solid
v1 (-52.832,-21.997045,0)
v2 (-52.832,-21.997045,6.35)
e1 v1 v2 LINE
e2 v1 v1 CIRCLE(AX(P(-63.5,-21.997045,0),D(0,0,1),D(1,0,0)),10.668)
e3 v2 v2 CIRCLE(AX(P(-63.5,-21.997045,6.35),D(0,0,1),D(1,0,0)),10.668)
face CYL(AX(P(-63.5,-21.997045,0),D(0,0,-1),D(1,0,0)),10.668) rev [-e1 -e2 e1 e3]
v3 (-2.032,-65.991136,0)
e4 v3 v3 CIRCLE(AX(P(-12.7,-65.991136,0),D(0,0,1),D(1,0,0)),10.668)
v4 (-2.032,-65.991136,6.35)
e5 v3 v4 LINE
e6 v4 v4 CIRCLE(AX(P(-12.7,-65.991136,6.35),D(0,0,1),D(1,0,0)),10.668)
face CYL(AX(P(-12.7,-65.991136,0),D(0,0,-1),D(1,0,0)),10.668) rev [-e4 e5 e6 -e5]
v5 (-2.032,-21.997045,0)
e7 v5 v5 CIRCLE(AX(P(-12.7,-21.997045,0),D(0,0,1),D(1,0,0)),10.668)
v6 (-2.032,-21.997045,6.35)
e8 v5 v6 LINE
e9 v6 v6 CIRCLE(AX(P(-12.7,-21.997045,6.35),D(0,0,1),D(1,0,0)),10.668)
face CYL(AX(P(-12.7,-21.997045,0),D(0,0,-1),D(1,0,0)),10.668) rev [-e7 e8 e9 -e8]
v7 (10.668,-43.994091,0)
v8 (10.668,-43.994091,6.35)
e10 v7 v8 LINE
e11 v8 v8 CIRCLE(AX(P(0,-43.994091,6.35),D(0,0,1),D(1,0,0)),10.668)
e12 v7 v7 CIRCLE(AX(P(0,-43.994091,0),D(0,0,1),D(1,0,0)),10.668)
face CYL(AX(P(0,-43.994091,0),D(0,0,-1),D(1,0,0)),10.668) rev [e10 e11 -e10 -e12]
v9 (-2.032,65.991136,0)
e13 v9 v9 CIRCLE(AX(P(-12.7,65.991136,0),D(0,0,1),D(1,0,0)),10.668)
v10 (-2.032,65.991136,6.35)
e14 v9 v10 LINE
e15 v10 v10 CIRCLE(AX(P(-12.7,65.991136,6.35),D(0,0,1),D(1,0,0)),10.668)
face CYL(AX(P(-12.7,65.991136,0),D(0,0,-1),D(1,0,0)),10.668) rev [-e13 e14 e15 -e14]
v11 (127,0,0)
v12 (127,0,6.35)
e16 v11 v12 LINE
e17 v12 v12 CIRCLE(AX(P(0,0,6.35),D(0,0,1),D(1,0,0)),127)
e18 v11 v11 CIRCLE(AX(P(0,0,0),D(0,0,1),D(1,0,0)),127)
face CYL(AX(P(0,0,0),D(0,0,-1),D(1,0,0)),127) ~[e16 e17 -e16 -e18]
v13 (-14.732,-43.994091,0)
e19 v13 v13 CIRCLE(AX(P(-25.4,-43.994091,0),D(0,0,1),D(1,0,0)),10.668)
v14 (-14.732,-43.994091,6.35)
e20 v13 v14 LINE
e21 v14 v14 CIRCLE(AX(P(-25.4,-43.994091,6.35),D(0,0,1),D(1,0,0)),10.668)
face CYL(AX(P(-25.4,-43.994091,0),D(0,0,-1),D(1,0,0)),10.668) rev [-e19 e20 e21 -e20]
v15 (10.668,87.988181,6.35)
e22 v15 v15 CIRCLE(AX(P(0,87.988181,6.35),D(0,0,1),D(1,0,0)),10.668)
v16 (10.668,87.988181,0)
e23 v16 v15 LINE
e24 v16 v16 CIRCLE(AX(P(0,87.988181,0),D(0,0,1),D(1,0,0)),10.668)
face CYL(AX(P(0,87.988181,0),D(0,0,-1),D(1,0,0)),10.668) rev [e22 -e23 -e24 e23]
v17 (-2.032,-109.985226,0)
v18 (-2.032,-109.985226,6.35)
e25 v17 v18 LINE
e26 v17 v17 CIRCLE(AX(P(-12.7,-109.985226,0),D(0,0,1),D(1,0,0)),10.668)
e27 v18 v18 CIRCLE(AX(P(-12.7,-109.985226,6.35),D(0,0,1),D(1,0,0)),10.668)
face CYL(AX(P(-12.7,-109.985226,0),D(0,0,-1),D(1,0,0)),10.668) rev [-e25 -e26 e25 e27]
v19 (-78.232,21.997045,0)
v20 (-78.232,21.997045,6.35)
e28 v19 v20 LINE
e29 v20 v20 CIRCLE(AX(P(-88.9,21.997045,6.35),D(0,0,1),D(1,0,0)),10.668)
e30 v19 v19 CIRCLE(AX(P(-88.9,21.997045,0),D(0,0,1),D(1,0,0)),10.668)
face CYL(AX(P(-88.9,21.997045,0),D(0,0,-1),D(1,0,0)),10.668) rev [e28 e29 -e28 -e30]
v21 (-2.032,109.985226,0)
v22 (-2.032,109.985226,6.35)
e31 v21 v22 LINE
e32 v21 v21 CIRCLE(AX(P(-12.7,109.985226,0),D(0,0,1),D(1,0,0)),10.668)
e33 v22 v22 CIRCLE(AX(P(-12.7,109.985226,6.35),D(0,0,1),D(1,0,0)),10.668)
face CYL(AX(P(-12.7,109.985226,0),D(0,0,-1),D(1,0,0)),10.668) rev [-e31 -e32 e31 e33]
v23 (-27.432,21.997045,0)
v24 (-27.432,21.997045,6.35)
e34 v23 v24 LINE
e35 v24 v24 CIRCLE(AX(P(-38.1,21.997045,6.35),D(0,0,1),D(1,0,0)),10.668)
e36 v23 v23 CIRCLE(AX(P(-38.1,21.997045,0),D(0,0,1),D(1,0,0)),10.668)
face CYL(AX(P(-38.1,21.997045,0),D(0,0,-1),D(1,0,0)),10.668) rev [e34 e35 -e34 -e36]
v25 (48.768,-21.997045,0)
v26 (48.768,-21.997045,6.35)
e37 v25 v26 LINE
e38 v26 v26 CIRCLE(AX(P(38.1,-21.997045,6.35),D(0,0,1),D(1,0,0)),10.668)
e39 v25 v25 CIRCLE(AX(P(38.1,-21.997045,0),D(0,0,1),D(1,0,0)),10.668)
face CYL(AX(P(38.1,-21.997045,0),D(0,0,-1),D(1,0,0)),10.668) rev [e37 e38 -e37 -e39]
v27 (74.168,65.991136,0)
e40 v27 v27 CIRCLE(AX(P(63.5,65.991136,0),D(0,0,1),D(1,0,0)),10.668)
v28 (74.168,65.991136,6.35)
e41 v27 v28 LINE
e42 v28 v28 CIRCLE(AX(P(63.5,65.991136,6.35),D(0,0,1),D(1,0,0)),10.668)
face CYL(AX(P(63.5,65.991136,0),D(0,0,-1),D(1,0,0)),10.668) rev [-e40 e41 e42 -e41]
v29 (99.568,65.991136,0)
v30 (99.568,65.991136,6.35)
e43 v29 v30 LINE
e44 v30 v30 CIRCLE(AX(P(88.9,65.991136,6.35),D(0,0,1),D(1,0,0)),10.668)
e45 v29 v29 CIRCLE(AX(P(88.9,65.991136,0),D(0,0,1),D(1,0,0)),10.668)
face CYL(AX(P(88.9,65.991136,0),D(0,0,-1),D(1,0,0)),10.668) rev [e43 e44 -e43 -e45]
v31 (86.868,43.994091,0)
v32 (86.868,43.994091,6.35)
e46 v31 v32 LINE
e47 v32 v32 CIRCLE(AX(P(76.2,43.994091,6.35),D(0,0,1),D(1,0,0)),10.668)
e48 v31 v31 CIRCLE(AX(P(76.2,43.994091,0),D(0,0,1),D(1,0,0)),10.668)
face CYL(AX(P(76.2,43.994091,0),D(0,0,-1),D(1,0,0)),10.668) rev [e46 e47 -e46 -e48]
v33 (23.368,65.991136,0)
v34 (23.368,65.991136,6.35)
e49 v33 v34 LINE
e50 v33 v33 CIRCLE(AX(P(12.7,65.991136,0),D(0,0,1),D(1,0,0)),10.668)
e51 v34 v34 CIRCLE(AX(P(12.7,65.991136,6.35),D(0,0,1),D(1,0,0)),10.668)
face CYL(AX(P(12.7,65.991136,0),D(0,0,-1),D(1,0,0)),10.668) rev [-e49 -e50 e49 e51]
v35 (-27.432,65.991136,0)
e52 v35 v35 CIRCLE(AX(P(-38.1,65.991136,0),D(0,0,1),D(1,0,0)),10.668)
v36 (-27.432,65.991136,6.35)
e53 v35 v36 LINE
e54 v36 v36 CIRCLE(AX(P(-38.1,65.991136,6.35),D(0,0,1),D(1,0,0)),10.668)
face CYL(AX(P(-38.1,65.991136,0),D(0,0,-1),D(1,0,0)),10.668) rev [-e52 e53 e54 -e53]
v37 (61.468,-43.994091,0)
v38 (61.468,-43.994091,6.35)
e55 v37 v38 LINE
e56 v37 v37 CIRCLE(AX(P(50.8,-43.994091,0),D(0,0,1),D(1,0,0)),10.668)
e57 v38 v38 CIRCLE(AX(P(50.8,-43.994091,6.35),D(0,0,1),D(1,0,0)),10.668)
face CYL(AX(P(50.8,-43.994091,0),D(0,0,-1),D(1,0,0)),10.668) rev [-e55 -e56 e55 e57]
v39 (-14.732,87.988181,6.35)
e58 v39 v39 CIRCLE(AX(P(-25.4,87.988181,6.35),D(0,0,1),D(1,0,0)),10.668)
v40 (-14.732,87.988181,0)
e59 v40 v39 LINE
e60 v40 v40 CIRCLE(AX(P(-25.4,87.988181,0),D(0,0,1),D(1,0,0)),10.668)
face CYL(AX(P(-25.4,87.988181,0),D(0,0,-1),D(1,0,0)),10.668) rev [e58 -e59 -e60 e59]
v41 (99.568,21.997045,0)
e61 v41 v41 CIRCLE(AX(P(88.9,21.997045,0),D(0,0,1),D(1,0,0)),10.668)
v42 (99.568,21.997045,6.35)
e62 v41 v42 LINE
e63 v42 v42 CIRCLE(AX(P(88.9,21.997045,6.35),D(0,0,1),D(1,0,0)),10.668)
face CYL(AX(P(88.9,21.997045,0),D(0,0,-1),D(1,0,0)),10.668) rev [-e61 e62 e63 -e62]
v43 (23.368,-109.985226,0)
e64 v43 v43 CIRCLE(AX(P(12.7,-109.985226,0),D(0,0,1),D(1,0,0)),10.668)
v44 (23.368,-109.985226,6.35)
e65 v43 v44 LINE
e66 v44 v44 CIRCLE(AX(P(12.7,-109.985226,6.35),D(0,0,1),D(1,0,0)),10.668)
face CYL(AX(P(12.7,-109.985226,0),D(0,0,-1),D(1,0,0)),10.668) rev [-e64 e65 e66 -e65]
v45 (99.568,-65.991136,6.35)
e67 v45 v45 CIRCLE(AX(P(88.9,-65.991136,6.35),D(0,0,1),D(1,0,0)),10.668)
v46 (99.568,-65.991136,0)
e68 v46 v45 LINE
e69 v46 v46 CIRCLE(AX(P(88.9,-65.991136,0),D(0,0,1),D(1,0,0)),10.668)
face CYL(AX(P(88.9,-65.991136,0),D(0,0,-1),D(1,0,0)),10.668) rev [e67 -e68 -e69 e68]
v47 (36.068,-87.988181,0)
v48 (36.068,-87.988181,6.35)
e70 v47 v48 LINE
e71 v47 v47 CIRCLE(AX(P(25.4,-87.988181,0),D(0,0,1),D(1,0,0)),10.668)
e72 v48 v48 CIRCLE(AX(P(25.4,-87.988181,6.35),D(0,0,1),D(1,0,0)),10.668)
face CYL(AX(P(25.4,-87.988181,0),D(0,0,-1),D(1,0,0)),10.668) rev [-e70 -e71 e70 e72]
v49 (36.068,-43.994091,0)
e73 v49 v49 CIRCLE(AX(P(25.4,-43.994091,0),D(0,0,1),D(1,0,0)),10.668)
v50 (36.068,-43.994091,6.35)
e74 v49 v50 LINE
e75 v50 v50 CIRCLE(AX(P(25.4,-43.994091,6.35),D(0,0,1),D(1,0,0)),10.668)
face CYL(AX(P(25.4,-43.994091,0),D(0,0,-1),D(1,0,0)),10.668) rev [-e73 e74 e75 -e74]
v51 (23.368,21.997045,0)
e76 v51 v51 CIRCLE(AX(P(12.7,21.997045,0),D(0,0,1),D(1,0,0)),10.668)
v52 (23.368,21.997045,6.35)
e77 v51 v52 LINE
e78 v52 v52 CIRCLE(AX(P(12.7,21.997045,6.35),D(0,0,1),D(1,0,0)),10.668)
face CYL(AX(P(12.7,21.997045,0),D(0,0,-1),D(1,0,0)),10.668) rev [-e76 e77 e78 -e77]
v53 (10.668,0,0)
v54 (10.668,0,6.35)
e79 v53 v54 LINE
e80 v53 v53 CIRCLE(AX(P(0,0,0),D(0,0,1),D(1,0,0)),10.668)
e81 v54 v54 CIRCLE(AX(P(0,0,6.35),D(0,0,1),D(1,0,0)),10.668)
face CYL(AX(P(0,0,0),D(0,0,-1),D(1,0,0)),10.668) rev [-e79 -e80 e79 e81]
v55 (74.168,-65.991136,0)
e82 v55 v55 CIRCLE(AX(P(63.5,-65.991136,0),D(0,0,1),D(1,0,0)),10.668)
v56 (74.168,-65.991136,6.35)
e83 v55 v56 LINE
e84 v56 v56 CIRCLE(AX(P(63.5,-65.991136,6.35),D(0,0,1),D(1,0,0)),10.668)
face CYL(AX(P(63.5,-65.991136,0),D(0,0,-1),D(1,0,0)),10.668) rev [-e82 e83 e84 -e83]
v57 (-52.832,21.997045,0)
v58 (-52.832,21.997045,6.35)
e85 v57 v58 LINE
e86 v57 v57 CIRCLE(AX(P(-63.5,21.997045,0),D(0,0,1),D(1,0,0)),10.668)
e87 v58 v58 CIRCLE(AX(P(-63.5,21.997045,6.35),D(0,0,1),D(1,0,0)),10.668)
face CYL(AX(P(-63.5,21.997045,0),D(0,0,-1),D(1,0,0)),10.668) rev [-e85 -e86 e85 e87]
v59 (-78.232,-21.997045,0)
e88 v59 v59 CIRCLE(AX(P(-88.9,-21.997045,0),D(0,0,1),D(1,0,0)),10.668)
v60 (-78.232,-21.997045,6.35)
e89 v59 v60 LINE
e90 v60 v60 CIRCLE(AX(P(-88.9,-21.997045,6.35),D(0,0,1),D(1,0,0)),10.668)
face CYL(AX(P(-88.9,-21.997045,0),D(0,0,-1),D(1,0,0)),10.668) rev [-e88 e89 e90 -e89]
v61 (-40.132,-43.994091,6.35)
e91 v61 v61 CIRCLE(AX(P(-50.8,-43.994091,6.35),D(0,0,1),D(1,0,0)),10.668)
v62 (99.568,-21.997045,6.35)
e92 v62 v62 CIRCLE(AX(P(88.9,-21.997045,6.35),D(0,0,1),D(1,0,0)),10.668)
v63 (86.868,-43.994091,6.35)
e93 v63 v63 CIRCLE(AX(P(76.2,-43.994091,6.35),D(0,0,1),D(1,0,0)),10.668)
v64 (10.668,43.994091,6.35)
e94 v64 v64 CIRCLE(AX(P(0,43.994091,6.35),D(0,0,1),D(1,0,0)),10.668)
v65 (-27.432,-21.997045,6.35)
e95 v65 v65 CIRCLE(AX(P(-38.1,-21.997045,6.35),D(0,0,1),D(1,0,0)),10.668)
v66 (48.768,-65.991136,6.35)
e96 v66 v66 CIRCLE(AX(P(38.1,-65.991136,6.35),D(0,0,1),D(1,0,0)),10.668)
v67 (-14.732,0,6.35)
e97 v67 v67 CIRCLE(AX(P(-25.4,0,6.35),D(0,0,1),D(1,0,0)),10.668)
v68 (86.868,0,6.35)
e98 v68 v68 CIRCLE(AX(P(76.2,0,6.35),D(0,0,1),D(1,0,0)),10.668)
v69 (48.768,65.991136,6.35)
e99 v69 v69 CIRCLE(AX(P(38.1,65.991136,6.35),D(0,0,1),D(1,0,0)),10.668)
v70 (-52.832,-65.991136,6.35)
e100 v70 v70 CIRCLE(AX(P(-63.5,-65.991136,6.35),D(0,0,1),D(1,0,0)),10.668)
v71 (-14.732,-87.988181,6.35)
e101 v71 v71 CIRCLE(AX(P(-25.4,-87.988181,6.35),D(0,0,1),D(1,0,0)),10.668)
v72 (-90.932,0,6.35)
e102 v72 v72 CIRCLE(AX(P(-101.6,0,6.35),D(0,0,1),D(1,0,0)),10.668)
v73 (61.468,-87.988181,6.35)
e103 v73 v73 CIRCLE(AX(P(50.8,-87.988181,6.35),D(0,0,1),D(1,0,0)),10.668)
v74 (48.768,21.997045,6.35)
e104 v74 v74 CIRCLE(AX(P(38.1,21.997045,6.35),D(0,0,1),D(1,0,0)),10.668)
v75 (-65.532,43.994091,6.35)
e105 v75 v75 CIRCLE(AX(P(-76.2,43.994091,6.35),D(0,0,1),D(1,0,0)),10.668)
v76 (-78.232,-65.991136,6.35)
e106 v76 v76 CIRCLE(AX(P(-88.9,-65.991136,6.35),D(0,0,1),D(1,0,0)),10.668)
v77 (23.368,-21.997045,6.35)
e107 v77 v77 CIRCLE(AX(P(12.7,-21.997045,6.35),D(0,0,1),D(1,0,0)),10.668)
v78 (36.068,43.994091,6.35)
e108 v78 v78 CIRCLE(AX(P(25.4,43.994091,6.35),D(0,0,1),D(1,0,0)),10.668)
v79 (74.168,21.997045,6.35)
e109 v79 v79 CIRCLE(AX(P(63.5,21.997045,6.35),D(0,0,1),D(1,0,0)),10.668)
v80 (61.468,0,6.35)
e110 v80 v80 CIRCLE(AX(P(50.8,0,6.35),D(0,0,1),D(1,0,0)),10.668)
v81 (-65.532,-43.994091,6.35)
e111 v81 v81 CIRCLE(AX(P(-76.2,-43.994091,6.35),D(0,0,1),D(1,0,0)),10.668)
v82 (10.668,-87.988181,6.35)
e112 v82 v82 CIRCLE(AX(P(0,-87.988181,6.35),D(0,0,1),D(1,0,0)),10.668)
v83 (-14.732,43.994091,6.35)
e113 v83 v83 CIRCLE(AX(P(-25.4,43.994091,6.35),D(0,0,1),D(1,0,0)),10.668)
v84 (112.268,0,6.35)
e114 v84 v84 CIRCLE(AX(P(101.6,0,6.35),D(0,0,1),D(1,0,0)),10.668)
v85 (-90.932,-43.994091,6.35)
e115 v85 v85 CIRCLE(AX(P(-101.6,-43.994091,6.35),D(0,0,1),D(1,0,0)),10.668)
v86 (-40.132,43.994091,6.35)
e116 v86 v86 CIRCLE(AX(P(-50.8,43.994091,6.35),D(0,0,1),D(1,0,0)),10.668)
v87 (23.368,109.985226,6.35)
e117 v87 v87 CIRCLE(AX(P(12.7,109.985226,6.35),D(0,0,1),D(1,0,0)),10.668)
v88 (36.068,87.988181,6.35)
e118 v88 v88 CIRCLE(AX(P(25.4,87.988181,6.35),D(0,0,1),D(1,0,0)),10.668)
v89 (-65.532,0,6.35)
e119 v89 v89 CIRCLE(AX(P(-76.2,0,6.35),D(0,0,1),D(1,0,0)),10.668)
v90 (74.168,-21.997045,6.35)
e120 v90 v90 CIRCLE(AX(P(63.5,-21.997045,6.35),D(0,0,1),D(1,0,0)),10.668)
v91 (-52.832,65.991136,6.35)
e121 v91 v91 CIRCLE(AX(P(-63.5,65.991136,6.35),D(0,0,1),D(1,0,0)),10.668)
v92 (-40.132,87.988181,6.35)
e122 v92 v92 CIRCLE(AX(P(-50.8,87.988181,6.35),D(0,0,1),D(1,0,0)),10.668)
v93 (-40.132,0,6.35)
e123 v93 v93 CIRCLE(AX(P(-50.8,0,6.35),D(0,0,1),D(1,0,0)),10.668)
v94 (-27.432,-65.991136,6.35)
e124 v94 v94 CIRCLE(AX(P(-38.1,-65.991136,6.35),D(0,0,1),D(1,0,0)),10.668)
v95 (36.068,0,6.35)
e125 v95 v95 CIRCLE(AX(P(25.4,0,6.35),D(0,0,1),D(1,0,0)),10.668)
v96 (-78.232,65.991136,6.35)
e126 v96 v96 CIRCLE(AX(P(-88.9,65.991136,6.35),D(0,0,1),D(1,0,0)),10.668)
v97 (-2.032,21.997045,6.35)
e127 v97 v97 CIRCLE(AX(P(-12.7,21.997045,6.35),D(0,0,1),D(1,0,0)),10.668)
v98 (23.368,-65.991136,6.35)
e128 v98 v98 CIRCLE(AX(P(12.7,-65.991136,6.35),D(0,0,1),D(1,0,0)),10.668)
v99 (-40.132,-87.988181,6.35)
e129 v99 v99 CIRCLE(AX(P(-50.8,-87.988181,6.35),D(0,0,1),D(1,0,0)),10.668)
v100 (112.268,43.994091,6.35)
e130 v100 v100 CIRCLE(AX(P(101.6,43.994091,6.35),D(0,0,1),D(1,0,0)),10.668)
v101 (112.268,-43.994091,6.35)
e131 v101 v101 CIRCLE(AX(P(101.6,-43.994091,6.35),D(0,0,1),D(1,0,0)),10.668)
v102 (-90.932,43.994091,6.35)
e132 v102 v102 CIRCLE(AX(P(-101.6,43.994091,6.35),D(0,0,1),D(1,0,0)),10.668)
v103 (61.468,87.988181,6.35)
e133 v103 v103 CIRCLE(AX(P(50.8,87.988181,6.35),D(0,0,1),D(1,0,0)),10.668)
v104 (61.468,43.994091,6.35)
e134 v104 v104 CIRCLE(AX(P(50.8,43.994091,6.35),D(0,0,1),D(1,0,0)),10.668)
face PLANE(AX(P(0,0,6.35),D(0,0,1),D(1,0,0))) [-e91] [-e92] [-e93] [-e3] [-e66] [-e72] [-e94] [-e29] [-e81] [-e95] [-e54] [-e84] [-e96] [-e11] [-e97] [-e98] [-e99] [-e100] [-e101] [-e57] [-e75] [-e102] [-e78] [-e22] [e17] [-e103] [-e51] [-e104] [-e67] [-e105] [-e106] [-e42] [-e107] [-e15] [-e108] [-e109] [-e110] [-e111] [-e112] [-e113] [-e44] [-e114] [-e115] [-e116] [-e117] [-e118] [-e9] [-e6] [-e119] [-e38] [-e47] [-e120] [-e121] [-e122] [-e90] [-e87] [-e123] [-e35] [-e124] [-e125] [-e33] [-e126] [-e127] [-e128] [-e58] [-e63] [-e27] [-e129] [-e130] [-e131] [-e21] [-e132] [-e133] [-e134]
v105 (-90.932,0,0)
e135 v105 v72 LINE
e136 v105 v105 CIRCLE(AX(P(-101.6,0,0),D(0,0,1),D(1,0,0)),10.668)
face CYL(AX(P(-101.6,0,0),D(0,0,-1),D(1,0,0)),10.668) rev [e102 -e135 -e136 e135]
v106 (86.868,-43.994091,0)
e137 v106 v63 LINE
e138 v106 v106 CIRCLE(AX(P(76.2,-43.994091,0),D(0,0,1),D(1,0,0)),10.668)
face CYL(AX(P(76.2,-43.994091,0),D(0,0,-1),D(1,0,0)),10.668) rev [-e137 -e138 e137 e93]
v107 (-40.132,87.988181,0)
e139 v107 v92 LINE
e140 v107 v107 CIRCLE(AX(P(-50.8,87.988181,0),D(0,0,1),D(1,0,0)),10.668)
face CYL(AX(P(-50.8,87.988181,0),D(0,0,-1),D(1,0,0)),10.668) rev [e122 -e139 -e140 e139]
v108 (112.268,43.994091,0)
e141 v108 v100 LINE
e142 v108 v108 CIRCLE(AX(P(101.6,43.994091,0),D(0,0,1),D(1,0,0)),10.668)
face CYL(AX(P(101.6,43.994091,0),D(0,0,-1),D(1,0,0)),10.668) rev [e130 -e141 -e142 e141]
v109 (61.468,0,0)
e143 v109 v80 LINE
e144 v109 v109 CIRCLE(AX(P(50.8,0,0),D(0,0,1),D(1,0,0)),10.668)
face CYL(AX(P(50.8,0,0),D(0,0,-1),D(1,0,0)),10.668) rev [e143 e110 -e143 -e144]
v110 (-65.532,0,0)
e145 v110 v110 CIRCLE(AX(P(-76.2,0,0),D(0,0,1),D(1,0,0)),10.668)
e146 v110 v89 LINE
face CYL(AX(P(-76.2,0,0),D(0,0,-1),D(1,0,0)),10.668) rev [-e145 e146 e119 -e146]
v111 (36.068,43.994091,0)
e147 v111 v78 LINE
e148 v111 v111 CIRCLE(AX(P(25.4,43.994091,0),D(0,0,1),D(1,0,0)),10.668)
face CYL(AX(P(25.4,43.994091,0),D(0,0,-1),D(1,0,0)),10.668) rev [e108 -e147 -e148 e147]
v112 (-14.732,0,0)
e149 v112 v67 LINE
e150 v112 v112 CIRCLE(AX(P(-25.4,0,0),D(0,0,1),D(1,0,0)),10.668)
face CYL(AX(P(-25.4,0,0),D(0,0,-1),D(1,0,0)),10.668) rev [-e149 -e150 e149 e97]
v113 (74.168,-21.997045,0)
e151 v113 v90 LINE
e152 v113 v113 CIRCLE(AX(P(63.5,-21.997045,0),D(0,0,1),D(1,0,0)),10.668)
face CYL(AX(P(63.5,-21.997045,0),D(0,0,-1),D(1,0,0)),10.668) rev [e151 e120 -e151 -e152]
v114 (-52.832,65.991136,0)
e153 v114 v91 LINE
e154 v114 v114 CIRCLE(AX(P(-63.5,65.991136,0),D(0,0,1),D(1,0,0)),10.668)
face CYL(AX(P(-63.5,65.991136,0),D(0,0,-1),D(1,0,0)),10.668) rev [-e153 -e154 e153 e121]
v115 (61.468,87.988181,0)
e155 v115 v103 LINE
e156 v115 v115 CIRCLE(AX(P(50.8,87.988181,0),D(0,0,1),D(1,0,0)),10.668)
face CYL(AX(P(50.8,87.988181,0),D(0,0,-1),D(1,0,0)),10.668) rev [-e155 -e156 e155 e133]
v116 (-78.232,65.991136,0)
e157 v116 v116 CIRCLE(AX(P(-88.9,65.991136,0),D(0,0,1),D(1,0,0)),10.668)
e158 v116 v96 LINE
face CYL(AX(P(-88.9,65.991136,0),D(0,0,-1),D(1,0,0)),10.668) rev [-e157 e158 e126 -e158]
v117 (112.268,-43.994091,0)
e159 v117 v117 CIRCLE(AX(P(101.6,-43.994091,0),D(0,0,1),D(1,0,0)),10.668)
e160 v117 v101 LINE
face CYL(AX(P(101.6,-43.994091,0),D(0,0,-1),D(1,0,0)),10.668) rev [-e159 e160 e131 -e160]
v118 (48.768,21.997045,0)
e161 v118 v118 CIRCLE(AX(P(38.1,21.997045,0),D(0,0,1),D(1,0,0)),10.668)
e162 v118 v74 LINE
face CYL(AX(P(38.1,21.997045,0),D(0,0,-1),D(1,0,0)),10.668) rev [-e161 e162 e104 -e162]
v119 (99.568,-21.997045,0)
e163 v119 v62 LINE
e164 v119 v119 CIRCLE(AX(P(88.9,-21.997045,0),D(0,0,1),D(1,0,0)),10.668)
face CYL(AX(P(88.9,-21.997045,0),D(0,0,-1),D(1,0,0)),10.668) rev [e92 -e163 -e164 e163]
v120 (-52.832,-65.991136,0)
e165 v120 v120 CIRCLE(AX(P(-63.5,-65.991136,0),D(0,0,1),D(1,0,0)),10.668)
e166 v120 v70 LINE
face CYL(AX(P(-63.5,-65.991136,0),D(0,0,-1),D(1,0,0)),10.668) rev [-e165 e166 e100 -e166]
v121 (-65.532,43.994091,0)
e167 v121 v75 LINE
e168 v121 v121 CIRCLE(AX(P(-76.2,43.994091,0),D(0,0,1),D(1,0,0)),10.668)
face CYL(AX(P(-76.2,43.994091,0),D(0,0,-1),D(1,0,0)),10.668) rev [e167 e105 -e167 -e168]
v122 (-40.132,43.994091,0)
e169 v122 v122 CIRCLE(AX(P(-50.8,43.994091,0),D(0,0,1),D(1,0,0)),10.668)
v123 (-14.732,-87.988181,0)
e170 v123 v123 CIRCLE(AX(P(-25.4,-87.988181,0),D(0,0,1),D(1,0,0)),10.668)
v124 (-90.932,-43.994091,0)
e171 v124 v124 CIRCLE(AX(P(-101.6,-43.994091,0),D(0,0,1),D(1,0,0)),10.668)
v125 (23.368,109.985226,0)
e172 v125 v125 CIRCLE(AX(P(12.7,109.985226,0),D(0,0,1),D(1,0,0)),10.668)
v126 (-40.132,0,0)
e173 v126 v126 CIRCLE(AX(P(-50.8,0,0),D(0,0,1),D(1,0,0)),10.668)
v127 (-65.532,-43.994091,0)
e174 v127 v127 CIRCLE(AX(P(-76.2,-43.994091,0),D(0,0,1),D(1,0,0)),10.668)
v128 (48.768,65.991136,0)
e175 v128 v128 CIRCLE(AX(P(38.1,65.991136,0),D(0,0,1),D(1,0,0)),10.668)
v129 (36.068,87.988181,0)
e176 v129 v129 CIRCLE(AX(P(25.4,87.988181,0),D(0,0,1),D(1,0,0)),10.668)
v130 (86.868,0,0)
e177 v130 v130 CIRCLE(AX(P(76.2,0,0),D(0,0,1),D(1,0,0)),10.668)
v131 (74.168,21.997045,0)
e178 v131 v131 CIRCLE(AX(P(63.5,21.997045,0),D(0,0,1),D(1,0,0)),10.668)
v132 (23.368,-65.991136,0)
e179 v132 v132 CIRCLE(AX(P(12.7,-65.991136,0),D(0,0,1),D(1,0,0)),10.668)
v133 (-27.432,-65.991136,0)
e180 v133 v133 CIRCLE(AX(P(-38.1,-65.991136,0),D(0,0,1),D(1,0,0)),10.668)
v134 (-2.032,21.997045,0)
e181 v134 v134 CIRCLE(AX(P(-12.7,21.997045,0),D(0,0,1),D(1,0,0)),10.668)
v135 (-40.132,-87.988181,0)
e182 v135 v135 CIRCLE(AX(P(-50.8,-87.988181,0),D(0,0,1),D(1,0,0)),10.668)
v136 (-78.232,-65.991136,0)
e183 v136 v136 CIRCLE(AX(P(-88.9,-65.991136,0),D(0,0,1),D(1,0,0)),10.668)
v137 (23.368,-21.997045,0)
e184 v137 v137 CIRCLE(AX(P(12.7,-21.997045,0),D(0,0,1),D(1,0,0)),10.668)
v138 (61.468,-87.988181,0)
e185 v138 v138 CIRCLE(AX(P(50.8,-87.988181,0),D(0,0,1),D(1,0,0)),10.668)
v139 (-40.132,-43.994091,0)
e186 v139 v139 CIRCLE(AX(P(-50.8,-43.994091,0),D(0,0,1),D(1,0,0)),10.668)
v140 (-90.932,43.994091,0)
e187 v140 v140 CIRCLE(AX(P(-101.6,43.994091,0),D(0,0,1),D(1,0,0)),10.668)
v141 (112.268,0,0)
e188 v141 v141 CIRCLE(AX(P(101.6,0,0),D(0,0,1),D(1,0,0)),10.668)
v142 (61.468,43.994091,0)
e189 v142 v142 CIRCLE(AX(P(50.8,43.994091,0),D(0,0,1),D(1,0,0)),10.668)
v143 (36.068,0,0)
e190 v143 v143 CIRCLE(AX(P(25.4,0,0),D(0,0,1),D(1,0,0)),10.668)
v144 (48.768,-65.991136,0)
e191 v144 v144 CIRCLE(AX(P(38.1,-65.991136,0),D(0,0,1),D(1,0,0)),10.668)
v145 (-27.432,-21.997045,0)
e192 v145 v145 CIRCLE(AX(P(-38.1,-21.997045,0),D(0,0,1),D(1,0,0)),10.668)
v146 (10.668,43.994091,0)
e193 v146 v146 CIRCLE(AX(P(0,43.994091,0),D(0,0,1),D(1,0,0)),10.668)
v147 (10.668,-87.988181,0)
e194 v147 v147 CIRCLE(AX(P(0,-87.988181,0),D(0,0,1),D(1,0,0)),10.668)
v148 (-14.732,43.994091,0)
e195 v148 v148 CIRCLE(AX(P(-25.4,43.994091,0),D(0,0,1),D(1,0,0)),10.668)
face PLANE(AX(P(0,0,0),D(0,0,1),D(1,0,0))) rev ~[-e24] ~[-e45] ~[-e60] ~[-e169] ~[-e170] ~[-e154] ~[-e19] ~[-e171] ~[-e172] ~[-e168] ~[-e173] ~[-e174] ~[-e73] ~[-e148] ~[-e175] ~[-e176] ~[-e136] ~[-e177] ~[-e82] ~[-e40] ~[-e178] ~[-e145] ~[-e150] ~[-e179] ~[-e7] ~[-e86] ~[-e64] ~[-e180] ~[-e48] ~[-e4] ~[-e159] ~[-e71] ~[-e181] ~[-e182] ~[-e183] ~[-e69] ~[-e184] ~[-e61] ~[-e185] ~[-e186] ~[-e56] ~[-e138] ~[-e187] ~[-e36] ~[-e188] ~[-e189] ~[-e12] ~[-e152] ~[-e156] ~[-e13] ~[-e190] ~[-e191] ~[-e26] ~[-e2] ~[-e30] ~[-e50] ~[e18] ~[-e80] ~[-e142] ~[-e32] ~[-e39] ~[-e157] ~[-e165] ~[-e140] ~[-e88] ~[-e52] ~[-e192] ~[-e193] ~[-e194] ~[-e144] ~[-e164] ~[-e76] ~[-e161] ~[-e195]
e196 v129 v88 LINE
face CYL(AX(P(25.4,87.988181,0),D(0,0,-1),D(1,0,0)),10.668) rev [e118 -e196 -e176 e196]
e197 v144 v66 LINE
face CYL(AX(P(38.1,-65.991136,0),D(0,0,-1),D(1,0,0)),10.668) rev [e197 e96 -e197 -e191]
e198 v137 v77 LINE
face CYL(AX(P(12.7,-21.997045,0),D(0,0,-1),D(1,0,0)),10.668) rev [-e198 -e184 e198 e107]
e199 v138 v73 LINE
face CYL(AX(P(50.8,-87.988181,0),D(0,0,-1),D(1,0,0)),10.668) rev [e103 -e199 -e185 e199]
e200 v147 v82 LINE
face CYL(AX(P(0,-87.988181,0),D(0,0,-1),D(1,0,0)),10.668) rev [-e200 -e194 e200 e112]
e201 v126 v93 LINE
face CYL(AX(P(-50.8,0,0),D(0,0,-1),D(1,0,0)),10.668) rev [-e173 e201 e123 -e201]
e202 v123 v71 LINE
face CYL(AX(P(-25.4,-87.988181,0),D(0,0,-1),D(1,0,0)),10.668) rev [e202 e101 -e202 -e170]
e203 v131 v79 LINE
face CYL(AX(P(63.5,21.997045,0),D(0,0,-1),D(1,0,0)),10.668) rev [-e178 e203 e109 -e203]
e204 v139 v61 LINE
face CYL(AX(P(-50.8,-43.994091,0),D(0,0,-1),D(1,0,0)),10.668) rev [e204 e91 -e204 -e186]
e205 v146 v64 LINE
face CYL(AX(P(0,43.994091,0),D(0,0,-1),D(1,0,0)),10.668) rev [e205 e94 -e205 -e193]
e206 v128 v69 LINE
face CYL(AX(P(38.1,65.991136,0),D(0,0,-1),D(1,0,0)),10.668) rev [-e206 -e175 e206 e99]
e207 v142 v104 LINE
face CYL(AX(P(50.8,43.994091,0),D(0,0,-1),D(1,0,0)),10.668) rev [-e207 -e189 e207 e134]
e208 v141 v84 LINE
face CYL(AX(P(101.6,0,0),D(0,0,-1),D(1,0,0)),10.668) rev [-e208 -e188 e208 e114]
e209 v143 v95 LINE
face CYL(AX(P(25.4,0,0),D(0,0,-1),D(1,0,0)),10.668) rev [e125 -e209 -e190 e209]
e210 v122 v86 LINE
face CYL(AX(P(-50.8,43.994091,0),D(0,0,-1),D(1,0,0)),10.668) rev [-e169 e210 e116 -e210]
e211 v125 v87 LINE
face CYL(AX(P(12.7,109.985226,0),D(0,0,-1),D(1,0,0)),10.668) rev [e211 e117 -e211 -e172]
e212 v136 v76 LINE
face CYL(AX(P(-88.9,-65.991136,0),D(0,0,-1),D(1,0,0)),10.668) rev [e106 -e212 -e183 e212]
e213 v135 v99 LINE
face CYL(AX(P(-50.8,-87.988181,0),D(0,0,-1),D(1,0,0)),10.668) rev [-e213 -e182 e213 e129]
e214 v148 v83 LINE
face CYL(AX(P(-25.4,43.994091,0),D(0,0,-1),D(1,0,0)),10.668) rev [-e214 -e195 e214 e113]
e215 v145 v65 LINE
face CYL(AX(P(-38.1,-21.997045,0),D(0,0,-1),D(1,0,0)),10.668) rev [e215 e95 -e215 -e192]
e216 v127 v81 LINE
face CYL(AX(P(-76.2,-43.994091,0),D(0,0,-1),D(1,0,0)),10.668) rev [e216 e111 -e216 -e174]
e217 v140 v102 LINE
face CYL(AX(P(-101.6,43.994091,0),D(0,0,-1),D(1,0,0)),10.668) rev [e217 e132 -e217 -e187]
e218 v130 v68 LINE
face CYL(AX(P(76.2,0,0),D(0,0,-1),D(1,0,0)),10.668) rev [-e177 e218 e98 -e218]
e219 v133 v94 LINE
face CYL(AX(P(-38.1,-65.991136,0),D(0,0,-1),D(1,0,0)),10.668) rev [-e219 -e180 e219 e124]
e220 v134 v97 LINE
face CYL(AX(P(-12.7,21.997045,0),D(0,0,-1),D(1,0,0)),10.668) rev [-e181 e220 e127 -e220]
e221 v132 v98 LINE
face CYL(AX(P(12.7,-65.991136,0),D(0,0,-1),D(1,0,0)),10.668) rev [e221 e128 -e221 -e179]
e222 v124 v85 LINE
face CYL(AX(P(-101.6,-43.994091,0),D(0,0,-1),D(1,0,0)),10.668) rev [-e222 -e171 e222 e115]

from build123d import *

# Parameters (mm, degrees)
F0_R     = 127
F0_R_2   = 10.668
F1_DEPTH = 6.35


with BuildPart() as f1:
    # F0 (on Top) → F1 (new body)
    with BuildSketch(Plane.XY):
        Circle(F0_R)
        with Locations((-88.9, -65.991136)):
            Circle(F0_R_2, mode=Mode.SUBTRACT)
        with Locations((-12.7, -109.985226)):
            Circle(F0_R_2, mode=Mode.SUBTRACT)
        with Locations((-50.8, -87.988181)):
            Circle(F0_R_2, mode=Mode.SUBTRACT)
        with Locations((-63.5, -65.991136)):
            Circle(F0_R_2, mode=Mode.SUBTRACT)
        with Locations((-38.1, -65.991136)):
            Circle(F0_R_2, mode=Mode.SUBTRACT)
        with Locations((-25.4, -87.988181)):
            Circle(F0_R_2, mode=Mode.SUBTRACT)
        with Locations((-12.7, -65.991136)):
            Circle(F0_R_2, mode=Mode.SUBTRACT)
        with Locations((-101.6, -43.994091)):
            Circle(F0_R_2, mode=Mode.SUBTRACT)
        with Locations((-76.2, -43.994091)):
            Circle(F0_R_2, mode=Mode.SUBTRACT)
        with Locations((-88.9, -21.997045)):
            Circle(F0_R_2, mode=Mode.SUBTRACT)
        with Locations((-50.8, -43.994091)):
            Circle(F0_R_2, mode=Mode.SUBTRACT)
        with Locations((-25.4, -43.994091)):
            Circle(F0_R_2, mode=Mode.SUBTRACT)
        with Locations((-63.5, -21.997045)):
            Circle(F0_R_2, mode=Mode.SUBTRACT)
        with Locations((-38.1, -21.997045)):
            Circle(F0_R_2, mode=Mode.SUBTRACT)
        with Locations((-12.7, -21.997045)):
            Circle(F0_R_2, mode=Mode.SUBTRACT)
        with Locations((12.7, -109.985226)):
            Circle(F0_R_2, mode=Mode.SUBTRACT)
        with Locations((0, -87.988181)):
            Circle(F0_R_2, mode=Mode.SUBTRACT)
        with Locations((25.4, -87.988181)):
            Circle(F0_R_2, mode=Mode.SUBTRACT)
        with Locations((12.7, -65.991136)):
            Circle(F0_R_2, mode=Mode.SUBTRACT)
        with Locations((50.8, -87.988181)):
            Circle(F0_R_2, mode=Mode.SUBTRACT)
        with Locations((38.1, -65.991136)):
            Circle(F0_R_2, mode=Mode.SUBTRACT)
        with Locations((63.5, -65.991136)):
            Circle(F0_R_2, mode=Mode.SUBTRACT)
        with Locations((88.9, -65.991136)):
            Circle(F0_R_2, mode=Mode.SUBTRACT)
        with Locations((0, -43.994091)):
            Circle(F0_R_2, mode=Mode.SUBTRACT)
        with Locations((25.4, -43.994091)):
            Circle(F0_R_2, mode=Mode.SUBTRACT)
        with Locations((50.8, -43.994091)):
            Circle(F0_R_2, mode=Mode.SUBTRACT)
        with Locations((12.7, -21.997045)):
            Circle(F0_R_2, mode=Mode.SUBTRACT)
        with Locations((38.1, -21.997045)):
            Circle(F0_R_2, mode=Mode.SUBTRACT)
        with Locations((76.2, -43.994091)):
            Circle(F0_R_2, mode=Mode.SUBTRACT)
        with Locations((101.6, -43.994091)):
            Circle(F0_R_2, mode=Mode.SUBTRACT)
        with Locations((63.5, -21.997045)):
            Circle(F0_R_2, mode=Mode.SUBTRACT)
        with Locations((88.9, -21.997045)):
            Circle(F0_R_2, mode=Mode.SUBTRACT)
        with Locations((-101.6, 0)):
            Circle(F0_R_2, mode=Mode.SUBTRACT)
        with Locations((-76.2, 0)):
            Circle(F0_R_2, mode=Mode.SUBTRACT)
        with Locations((-88.9, 21.997045)):
            Circle(F0_R_2, mode=Mode.SUBTRACT)
        with Locations((-101.6, 43.994091)):
            Circle(F0_R_2, mode=Mode.SUBTRACT)
        with Locations((-76.2, 43.994091)):
            Circle(F0_R_2, mode=Mode.SUBTRACT)
        with Locations((-50.8, 0)):
            Circle(F0_R_2, mode=Mode.SUBTRACT)
        with Locations((-63.5, 21.997045)):
            Circle(F0_R_2, mode=Mode.SUBTRACT)
        with Locations((-38.1, 21.997045)):
            Circle(F0_R_2, mode=Mode.SUBTRACT)
        with Locations((-25.4, 0)):
            Circle(F0_R_2, mode=Mode.SUBTRACT)
        with Locations((-12.7, 21.997045)):
            Circle(F0_R_2, mode=Mode.SUBTRACT)
        with Locations((-50.8, 43.994091)):
            Circle(F0_R_2, mode=Mode.SUBTRACT)
        with Locations((-25.4, 43.994091)):
            Circle(F0_R_2, mode=Mode.SUBTRACT)
        with Locations((-88.9, 65.991136)):
            Circle(F0_R_2, mode=Mode.SUBTRACT)
        with Locations((-63.5, 65.991136)):
            Circle(F0_R_2, mode=Mode.SUBTRACT)
        with Locations((-38.1, 65.991136)):
            Circle(F0_R_2, mode=Mode.SUBTRACT)
        with Locations((-50.8, 87.988181)):
            Circle(F0_R_2, mode=Mode.SUBTRACT)
        with Locations((-12.7, 65.991136)):
            Circle(F0_R_2, mode=Mode.SUBTRACT)
        with Locations((-25.4, 87.988181)):
            Circle(F0_R_2, mode=Mode.SUBTRACT)
        with Locations((-12.7, 109.985226)):
            Circle(F0_R_2, mode=Mode.SUBTRACT)
        Circle(F0_R_2, mode=Mode.SUBTRACT)
        with Locations((25.4, 0)):
            Circle(F0_R_2, mode=Mode.SUBTRACT)
        with Locations((12.7, 21.997045)):
            Circle(F0_R_2, mode=Mode.SUBTRACT)
        with Locations((50.8, 0)):
            Circle(F0_R_2, mode=Mode.SUBTRACT)
        with Locations((38.1, 21.997045)):
            Circle(F0_R_2, mode=Mode.SUBTRACT)
        with Locations((0, 43.994091)):
            Circle(F0_R_2, mode=Mode.SUBTRACT)
        with Locations((25.4, 43.994091)):
            Circle(F0_R_2, mode=Mode.SUBTRACT)
        with Locations((50.8, 43.994091)):
            Circle(F0_R_2, mode=Mode.SUBTRACT)
        with Locations((76.2, 0)):
            Circle(F0_R_2, mode=Mode.SUBTRACT)
        with Locations((63.5, 21.997045)):
            Circle(F0_R_2, mode=Mode.SUBTRACT)
        with Locations((88.9, 21.997045)):
            Circle(F0_R_2, mode=Mode.SUBTRACT)
        with Locations((101.6, 0)):
            Circle(F0_R_2, mode=Mode.SUBTRACT)
        with Locations((76.2, 43.994091)):
            Circle(F0_R_2, mode=Mode.SUBTRACT)
        with Locations((101.6, 43.994091)):
            Circle(F0_R_2, mode=Mode.SUBTRACT)
        with Locations((12.7, 65.991136)):
            Circle(F0_R_2, mode=Mode.SUBTRACT)
        with Locations((0, 87.988181)):
            Circle(F0_R_2, mode=Mode.SUBTRACT)
        with Locations((25.4, 87.988181)):
            Circle(F0_R_2, mode=Mode.SUBTRACT)
        with Locations((38.1, 65.991136)):
            Circle(F0_R_2, mode=Mode.SUBTRACT)
        with Locations((50.8, 87.988181)):
            Circle(F0_R_2, mode=Mode.SUBTRACT)
        with Locations((12.7, 109.985226)):
            Circle(F0_R_2, mode=Mode.SUBTRACT)
        with Locations((63.5, 65.991136)):
            Circle(F0_R_2, mode=Mode.SUBTRACT)
        with Locations((88.9, 65.991136)):
            Circle(F0_R_2, mode=Mode.SUBTRACT)
    extrude(amount=F1_DEPTH)


solid = f1.part
